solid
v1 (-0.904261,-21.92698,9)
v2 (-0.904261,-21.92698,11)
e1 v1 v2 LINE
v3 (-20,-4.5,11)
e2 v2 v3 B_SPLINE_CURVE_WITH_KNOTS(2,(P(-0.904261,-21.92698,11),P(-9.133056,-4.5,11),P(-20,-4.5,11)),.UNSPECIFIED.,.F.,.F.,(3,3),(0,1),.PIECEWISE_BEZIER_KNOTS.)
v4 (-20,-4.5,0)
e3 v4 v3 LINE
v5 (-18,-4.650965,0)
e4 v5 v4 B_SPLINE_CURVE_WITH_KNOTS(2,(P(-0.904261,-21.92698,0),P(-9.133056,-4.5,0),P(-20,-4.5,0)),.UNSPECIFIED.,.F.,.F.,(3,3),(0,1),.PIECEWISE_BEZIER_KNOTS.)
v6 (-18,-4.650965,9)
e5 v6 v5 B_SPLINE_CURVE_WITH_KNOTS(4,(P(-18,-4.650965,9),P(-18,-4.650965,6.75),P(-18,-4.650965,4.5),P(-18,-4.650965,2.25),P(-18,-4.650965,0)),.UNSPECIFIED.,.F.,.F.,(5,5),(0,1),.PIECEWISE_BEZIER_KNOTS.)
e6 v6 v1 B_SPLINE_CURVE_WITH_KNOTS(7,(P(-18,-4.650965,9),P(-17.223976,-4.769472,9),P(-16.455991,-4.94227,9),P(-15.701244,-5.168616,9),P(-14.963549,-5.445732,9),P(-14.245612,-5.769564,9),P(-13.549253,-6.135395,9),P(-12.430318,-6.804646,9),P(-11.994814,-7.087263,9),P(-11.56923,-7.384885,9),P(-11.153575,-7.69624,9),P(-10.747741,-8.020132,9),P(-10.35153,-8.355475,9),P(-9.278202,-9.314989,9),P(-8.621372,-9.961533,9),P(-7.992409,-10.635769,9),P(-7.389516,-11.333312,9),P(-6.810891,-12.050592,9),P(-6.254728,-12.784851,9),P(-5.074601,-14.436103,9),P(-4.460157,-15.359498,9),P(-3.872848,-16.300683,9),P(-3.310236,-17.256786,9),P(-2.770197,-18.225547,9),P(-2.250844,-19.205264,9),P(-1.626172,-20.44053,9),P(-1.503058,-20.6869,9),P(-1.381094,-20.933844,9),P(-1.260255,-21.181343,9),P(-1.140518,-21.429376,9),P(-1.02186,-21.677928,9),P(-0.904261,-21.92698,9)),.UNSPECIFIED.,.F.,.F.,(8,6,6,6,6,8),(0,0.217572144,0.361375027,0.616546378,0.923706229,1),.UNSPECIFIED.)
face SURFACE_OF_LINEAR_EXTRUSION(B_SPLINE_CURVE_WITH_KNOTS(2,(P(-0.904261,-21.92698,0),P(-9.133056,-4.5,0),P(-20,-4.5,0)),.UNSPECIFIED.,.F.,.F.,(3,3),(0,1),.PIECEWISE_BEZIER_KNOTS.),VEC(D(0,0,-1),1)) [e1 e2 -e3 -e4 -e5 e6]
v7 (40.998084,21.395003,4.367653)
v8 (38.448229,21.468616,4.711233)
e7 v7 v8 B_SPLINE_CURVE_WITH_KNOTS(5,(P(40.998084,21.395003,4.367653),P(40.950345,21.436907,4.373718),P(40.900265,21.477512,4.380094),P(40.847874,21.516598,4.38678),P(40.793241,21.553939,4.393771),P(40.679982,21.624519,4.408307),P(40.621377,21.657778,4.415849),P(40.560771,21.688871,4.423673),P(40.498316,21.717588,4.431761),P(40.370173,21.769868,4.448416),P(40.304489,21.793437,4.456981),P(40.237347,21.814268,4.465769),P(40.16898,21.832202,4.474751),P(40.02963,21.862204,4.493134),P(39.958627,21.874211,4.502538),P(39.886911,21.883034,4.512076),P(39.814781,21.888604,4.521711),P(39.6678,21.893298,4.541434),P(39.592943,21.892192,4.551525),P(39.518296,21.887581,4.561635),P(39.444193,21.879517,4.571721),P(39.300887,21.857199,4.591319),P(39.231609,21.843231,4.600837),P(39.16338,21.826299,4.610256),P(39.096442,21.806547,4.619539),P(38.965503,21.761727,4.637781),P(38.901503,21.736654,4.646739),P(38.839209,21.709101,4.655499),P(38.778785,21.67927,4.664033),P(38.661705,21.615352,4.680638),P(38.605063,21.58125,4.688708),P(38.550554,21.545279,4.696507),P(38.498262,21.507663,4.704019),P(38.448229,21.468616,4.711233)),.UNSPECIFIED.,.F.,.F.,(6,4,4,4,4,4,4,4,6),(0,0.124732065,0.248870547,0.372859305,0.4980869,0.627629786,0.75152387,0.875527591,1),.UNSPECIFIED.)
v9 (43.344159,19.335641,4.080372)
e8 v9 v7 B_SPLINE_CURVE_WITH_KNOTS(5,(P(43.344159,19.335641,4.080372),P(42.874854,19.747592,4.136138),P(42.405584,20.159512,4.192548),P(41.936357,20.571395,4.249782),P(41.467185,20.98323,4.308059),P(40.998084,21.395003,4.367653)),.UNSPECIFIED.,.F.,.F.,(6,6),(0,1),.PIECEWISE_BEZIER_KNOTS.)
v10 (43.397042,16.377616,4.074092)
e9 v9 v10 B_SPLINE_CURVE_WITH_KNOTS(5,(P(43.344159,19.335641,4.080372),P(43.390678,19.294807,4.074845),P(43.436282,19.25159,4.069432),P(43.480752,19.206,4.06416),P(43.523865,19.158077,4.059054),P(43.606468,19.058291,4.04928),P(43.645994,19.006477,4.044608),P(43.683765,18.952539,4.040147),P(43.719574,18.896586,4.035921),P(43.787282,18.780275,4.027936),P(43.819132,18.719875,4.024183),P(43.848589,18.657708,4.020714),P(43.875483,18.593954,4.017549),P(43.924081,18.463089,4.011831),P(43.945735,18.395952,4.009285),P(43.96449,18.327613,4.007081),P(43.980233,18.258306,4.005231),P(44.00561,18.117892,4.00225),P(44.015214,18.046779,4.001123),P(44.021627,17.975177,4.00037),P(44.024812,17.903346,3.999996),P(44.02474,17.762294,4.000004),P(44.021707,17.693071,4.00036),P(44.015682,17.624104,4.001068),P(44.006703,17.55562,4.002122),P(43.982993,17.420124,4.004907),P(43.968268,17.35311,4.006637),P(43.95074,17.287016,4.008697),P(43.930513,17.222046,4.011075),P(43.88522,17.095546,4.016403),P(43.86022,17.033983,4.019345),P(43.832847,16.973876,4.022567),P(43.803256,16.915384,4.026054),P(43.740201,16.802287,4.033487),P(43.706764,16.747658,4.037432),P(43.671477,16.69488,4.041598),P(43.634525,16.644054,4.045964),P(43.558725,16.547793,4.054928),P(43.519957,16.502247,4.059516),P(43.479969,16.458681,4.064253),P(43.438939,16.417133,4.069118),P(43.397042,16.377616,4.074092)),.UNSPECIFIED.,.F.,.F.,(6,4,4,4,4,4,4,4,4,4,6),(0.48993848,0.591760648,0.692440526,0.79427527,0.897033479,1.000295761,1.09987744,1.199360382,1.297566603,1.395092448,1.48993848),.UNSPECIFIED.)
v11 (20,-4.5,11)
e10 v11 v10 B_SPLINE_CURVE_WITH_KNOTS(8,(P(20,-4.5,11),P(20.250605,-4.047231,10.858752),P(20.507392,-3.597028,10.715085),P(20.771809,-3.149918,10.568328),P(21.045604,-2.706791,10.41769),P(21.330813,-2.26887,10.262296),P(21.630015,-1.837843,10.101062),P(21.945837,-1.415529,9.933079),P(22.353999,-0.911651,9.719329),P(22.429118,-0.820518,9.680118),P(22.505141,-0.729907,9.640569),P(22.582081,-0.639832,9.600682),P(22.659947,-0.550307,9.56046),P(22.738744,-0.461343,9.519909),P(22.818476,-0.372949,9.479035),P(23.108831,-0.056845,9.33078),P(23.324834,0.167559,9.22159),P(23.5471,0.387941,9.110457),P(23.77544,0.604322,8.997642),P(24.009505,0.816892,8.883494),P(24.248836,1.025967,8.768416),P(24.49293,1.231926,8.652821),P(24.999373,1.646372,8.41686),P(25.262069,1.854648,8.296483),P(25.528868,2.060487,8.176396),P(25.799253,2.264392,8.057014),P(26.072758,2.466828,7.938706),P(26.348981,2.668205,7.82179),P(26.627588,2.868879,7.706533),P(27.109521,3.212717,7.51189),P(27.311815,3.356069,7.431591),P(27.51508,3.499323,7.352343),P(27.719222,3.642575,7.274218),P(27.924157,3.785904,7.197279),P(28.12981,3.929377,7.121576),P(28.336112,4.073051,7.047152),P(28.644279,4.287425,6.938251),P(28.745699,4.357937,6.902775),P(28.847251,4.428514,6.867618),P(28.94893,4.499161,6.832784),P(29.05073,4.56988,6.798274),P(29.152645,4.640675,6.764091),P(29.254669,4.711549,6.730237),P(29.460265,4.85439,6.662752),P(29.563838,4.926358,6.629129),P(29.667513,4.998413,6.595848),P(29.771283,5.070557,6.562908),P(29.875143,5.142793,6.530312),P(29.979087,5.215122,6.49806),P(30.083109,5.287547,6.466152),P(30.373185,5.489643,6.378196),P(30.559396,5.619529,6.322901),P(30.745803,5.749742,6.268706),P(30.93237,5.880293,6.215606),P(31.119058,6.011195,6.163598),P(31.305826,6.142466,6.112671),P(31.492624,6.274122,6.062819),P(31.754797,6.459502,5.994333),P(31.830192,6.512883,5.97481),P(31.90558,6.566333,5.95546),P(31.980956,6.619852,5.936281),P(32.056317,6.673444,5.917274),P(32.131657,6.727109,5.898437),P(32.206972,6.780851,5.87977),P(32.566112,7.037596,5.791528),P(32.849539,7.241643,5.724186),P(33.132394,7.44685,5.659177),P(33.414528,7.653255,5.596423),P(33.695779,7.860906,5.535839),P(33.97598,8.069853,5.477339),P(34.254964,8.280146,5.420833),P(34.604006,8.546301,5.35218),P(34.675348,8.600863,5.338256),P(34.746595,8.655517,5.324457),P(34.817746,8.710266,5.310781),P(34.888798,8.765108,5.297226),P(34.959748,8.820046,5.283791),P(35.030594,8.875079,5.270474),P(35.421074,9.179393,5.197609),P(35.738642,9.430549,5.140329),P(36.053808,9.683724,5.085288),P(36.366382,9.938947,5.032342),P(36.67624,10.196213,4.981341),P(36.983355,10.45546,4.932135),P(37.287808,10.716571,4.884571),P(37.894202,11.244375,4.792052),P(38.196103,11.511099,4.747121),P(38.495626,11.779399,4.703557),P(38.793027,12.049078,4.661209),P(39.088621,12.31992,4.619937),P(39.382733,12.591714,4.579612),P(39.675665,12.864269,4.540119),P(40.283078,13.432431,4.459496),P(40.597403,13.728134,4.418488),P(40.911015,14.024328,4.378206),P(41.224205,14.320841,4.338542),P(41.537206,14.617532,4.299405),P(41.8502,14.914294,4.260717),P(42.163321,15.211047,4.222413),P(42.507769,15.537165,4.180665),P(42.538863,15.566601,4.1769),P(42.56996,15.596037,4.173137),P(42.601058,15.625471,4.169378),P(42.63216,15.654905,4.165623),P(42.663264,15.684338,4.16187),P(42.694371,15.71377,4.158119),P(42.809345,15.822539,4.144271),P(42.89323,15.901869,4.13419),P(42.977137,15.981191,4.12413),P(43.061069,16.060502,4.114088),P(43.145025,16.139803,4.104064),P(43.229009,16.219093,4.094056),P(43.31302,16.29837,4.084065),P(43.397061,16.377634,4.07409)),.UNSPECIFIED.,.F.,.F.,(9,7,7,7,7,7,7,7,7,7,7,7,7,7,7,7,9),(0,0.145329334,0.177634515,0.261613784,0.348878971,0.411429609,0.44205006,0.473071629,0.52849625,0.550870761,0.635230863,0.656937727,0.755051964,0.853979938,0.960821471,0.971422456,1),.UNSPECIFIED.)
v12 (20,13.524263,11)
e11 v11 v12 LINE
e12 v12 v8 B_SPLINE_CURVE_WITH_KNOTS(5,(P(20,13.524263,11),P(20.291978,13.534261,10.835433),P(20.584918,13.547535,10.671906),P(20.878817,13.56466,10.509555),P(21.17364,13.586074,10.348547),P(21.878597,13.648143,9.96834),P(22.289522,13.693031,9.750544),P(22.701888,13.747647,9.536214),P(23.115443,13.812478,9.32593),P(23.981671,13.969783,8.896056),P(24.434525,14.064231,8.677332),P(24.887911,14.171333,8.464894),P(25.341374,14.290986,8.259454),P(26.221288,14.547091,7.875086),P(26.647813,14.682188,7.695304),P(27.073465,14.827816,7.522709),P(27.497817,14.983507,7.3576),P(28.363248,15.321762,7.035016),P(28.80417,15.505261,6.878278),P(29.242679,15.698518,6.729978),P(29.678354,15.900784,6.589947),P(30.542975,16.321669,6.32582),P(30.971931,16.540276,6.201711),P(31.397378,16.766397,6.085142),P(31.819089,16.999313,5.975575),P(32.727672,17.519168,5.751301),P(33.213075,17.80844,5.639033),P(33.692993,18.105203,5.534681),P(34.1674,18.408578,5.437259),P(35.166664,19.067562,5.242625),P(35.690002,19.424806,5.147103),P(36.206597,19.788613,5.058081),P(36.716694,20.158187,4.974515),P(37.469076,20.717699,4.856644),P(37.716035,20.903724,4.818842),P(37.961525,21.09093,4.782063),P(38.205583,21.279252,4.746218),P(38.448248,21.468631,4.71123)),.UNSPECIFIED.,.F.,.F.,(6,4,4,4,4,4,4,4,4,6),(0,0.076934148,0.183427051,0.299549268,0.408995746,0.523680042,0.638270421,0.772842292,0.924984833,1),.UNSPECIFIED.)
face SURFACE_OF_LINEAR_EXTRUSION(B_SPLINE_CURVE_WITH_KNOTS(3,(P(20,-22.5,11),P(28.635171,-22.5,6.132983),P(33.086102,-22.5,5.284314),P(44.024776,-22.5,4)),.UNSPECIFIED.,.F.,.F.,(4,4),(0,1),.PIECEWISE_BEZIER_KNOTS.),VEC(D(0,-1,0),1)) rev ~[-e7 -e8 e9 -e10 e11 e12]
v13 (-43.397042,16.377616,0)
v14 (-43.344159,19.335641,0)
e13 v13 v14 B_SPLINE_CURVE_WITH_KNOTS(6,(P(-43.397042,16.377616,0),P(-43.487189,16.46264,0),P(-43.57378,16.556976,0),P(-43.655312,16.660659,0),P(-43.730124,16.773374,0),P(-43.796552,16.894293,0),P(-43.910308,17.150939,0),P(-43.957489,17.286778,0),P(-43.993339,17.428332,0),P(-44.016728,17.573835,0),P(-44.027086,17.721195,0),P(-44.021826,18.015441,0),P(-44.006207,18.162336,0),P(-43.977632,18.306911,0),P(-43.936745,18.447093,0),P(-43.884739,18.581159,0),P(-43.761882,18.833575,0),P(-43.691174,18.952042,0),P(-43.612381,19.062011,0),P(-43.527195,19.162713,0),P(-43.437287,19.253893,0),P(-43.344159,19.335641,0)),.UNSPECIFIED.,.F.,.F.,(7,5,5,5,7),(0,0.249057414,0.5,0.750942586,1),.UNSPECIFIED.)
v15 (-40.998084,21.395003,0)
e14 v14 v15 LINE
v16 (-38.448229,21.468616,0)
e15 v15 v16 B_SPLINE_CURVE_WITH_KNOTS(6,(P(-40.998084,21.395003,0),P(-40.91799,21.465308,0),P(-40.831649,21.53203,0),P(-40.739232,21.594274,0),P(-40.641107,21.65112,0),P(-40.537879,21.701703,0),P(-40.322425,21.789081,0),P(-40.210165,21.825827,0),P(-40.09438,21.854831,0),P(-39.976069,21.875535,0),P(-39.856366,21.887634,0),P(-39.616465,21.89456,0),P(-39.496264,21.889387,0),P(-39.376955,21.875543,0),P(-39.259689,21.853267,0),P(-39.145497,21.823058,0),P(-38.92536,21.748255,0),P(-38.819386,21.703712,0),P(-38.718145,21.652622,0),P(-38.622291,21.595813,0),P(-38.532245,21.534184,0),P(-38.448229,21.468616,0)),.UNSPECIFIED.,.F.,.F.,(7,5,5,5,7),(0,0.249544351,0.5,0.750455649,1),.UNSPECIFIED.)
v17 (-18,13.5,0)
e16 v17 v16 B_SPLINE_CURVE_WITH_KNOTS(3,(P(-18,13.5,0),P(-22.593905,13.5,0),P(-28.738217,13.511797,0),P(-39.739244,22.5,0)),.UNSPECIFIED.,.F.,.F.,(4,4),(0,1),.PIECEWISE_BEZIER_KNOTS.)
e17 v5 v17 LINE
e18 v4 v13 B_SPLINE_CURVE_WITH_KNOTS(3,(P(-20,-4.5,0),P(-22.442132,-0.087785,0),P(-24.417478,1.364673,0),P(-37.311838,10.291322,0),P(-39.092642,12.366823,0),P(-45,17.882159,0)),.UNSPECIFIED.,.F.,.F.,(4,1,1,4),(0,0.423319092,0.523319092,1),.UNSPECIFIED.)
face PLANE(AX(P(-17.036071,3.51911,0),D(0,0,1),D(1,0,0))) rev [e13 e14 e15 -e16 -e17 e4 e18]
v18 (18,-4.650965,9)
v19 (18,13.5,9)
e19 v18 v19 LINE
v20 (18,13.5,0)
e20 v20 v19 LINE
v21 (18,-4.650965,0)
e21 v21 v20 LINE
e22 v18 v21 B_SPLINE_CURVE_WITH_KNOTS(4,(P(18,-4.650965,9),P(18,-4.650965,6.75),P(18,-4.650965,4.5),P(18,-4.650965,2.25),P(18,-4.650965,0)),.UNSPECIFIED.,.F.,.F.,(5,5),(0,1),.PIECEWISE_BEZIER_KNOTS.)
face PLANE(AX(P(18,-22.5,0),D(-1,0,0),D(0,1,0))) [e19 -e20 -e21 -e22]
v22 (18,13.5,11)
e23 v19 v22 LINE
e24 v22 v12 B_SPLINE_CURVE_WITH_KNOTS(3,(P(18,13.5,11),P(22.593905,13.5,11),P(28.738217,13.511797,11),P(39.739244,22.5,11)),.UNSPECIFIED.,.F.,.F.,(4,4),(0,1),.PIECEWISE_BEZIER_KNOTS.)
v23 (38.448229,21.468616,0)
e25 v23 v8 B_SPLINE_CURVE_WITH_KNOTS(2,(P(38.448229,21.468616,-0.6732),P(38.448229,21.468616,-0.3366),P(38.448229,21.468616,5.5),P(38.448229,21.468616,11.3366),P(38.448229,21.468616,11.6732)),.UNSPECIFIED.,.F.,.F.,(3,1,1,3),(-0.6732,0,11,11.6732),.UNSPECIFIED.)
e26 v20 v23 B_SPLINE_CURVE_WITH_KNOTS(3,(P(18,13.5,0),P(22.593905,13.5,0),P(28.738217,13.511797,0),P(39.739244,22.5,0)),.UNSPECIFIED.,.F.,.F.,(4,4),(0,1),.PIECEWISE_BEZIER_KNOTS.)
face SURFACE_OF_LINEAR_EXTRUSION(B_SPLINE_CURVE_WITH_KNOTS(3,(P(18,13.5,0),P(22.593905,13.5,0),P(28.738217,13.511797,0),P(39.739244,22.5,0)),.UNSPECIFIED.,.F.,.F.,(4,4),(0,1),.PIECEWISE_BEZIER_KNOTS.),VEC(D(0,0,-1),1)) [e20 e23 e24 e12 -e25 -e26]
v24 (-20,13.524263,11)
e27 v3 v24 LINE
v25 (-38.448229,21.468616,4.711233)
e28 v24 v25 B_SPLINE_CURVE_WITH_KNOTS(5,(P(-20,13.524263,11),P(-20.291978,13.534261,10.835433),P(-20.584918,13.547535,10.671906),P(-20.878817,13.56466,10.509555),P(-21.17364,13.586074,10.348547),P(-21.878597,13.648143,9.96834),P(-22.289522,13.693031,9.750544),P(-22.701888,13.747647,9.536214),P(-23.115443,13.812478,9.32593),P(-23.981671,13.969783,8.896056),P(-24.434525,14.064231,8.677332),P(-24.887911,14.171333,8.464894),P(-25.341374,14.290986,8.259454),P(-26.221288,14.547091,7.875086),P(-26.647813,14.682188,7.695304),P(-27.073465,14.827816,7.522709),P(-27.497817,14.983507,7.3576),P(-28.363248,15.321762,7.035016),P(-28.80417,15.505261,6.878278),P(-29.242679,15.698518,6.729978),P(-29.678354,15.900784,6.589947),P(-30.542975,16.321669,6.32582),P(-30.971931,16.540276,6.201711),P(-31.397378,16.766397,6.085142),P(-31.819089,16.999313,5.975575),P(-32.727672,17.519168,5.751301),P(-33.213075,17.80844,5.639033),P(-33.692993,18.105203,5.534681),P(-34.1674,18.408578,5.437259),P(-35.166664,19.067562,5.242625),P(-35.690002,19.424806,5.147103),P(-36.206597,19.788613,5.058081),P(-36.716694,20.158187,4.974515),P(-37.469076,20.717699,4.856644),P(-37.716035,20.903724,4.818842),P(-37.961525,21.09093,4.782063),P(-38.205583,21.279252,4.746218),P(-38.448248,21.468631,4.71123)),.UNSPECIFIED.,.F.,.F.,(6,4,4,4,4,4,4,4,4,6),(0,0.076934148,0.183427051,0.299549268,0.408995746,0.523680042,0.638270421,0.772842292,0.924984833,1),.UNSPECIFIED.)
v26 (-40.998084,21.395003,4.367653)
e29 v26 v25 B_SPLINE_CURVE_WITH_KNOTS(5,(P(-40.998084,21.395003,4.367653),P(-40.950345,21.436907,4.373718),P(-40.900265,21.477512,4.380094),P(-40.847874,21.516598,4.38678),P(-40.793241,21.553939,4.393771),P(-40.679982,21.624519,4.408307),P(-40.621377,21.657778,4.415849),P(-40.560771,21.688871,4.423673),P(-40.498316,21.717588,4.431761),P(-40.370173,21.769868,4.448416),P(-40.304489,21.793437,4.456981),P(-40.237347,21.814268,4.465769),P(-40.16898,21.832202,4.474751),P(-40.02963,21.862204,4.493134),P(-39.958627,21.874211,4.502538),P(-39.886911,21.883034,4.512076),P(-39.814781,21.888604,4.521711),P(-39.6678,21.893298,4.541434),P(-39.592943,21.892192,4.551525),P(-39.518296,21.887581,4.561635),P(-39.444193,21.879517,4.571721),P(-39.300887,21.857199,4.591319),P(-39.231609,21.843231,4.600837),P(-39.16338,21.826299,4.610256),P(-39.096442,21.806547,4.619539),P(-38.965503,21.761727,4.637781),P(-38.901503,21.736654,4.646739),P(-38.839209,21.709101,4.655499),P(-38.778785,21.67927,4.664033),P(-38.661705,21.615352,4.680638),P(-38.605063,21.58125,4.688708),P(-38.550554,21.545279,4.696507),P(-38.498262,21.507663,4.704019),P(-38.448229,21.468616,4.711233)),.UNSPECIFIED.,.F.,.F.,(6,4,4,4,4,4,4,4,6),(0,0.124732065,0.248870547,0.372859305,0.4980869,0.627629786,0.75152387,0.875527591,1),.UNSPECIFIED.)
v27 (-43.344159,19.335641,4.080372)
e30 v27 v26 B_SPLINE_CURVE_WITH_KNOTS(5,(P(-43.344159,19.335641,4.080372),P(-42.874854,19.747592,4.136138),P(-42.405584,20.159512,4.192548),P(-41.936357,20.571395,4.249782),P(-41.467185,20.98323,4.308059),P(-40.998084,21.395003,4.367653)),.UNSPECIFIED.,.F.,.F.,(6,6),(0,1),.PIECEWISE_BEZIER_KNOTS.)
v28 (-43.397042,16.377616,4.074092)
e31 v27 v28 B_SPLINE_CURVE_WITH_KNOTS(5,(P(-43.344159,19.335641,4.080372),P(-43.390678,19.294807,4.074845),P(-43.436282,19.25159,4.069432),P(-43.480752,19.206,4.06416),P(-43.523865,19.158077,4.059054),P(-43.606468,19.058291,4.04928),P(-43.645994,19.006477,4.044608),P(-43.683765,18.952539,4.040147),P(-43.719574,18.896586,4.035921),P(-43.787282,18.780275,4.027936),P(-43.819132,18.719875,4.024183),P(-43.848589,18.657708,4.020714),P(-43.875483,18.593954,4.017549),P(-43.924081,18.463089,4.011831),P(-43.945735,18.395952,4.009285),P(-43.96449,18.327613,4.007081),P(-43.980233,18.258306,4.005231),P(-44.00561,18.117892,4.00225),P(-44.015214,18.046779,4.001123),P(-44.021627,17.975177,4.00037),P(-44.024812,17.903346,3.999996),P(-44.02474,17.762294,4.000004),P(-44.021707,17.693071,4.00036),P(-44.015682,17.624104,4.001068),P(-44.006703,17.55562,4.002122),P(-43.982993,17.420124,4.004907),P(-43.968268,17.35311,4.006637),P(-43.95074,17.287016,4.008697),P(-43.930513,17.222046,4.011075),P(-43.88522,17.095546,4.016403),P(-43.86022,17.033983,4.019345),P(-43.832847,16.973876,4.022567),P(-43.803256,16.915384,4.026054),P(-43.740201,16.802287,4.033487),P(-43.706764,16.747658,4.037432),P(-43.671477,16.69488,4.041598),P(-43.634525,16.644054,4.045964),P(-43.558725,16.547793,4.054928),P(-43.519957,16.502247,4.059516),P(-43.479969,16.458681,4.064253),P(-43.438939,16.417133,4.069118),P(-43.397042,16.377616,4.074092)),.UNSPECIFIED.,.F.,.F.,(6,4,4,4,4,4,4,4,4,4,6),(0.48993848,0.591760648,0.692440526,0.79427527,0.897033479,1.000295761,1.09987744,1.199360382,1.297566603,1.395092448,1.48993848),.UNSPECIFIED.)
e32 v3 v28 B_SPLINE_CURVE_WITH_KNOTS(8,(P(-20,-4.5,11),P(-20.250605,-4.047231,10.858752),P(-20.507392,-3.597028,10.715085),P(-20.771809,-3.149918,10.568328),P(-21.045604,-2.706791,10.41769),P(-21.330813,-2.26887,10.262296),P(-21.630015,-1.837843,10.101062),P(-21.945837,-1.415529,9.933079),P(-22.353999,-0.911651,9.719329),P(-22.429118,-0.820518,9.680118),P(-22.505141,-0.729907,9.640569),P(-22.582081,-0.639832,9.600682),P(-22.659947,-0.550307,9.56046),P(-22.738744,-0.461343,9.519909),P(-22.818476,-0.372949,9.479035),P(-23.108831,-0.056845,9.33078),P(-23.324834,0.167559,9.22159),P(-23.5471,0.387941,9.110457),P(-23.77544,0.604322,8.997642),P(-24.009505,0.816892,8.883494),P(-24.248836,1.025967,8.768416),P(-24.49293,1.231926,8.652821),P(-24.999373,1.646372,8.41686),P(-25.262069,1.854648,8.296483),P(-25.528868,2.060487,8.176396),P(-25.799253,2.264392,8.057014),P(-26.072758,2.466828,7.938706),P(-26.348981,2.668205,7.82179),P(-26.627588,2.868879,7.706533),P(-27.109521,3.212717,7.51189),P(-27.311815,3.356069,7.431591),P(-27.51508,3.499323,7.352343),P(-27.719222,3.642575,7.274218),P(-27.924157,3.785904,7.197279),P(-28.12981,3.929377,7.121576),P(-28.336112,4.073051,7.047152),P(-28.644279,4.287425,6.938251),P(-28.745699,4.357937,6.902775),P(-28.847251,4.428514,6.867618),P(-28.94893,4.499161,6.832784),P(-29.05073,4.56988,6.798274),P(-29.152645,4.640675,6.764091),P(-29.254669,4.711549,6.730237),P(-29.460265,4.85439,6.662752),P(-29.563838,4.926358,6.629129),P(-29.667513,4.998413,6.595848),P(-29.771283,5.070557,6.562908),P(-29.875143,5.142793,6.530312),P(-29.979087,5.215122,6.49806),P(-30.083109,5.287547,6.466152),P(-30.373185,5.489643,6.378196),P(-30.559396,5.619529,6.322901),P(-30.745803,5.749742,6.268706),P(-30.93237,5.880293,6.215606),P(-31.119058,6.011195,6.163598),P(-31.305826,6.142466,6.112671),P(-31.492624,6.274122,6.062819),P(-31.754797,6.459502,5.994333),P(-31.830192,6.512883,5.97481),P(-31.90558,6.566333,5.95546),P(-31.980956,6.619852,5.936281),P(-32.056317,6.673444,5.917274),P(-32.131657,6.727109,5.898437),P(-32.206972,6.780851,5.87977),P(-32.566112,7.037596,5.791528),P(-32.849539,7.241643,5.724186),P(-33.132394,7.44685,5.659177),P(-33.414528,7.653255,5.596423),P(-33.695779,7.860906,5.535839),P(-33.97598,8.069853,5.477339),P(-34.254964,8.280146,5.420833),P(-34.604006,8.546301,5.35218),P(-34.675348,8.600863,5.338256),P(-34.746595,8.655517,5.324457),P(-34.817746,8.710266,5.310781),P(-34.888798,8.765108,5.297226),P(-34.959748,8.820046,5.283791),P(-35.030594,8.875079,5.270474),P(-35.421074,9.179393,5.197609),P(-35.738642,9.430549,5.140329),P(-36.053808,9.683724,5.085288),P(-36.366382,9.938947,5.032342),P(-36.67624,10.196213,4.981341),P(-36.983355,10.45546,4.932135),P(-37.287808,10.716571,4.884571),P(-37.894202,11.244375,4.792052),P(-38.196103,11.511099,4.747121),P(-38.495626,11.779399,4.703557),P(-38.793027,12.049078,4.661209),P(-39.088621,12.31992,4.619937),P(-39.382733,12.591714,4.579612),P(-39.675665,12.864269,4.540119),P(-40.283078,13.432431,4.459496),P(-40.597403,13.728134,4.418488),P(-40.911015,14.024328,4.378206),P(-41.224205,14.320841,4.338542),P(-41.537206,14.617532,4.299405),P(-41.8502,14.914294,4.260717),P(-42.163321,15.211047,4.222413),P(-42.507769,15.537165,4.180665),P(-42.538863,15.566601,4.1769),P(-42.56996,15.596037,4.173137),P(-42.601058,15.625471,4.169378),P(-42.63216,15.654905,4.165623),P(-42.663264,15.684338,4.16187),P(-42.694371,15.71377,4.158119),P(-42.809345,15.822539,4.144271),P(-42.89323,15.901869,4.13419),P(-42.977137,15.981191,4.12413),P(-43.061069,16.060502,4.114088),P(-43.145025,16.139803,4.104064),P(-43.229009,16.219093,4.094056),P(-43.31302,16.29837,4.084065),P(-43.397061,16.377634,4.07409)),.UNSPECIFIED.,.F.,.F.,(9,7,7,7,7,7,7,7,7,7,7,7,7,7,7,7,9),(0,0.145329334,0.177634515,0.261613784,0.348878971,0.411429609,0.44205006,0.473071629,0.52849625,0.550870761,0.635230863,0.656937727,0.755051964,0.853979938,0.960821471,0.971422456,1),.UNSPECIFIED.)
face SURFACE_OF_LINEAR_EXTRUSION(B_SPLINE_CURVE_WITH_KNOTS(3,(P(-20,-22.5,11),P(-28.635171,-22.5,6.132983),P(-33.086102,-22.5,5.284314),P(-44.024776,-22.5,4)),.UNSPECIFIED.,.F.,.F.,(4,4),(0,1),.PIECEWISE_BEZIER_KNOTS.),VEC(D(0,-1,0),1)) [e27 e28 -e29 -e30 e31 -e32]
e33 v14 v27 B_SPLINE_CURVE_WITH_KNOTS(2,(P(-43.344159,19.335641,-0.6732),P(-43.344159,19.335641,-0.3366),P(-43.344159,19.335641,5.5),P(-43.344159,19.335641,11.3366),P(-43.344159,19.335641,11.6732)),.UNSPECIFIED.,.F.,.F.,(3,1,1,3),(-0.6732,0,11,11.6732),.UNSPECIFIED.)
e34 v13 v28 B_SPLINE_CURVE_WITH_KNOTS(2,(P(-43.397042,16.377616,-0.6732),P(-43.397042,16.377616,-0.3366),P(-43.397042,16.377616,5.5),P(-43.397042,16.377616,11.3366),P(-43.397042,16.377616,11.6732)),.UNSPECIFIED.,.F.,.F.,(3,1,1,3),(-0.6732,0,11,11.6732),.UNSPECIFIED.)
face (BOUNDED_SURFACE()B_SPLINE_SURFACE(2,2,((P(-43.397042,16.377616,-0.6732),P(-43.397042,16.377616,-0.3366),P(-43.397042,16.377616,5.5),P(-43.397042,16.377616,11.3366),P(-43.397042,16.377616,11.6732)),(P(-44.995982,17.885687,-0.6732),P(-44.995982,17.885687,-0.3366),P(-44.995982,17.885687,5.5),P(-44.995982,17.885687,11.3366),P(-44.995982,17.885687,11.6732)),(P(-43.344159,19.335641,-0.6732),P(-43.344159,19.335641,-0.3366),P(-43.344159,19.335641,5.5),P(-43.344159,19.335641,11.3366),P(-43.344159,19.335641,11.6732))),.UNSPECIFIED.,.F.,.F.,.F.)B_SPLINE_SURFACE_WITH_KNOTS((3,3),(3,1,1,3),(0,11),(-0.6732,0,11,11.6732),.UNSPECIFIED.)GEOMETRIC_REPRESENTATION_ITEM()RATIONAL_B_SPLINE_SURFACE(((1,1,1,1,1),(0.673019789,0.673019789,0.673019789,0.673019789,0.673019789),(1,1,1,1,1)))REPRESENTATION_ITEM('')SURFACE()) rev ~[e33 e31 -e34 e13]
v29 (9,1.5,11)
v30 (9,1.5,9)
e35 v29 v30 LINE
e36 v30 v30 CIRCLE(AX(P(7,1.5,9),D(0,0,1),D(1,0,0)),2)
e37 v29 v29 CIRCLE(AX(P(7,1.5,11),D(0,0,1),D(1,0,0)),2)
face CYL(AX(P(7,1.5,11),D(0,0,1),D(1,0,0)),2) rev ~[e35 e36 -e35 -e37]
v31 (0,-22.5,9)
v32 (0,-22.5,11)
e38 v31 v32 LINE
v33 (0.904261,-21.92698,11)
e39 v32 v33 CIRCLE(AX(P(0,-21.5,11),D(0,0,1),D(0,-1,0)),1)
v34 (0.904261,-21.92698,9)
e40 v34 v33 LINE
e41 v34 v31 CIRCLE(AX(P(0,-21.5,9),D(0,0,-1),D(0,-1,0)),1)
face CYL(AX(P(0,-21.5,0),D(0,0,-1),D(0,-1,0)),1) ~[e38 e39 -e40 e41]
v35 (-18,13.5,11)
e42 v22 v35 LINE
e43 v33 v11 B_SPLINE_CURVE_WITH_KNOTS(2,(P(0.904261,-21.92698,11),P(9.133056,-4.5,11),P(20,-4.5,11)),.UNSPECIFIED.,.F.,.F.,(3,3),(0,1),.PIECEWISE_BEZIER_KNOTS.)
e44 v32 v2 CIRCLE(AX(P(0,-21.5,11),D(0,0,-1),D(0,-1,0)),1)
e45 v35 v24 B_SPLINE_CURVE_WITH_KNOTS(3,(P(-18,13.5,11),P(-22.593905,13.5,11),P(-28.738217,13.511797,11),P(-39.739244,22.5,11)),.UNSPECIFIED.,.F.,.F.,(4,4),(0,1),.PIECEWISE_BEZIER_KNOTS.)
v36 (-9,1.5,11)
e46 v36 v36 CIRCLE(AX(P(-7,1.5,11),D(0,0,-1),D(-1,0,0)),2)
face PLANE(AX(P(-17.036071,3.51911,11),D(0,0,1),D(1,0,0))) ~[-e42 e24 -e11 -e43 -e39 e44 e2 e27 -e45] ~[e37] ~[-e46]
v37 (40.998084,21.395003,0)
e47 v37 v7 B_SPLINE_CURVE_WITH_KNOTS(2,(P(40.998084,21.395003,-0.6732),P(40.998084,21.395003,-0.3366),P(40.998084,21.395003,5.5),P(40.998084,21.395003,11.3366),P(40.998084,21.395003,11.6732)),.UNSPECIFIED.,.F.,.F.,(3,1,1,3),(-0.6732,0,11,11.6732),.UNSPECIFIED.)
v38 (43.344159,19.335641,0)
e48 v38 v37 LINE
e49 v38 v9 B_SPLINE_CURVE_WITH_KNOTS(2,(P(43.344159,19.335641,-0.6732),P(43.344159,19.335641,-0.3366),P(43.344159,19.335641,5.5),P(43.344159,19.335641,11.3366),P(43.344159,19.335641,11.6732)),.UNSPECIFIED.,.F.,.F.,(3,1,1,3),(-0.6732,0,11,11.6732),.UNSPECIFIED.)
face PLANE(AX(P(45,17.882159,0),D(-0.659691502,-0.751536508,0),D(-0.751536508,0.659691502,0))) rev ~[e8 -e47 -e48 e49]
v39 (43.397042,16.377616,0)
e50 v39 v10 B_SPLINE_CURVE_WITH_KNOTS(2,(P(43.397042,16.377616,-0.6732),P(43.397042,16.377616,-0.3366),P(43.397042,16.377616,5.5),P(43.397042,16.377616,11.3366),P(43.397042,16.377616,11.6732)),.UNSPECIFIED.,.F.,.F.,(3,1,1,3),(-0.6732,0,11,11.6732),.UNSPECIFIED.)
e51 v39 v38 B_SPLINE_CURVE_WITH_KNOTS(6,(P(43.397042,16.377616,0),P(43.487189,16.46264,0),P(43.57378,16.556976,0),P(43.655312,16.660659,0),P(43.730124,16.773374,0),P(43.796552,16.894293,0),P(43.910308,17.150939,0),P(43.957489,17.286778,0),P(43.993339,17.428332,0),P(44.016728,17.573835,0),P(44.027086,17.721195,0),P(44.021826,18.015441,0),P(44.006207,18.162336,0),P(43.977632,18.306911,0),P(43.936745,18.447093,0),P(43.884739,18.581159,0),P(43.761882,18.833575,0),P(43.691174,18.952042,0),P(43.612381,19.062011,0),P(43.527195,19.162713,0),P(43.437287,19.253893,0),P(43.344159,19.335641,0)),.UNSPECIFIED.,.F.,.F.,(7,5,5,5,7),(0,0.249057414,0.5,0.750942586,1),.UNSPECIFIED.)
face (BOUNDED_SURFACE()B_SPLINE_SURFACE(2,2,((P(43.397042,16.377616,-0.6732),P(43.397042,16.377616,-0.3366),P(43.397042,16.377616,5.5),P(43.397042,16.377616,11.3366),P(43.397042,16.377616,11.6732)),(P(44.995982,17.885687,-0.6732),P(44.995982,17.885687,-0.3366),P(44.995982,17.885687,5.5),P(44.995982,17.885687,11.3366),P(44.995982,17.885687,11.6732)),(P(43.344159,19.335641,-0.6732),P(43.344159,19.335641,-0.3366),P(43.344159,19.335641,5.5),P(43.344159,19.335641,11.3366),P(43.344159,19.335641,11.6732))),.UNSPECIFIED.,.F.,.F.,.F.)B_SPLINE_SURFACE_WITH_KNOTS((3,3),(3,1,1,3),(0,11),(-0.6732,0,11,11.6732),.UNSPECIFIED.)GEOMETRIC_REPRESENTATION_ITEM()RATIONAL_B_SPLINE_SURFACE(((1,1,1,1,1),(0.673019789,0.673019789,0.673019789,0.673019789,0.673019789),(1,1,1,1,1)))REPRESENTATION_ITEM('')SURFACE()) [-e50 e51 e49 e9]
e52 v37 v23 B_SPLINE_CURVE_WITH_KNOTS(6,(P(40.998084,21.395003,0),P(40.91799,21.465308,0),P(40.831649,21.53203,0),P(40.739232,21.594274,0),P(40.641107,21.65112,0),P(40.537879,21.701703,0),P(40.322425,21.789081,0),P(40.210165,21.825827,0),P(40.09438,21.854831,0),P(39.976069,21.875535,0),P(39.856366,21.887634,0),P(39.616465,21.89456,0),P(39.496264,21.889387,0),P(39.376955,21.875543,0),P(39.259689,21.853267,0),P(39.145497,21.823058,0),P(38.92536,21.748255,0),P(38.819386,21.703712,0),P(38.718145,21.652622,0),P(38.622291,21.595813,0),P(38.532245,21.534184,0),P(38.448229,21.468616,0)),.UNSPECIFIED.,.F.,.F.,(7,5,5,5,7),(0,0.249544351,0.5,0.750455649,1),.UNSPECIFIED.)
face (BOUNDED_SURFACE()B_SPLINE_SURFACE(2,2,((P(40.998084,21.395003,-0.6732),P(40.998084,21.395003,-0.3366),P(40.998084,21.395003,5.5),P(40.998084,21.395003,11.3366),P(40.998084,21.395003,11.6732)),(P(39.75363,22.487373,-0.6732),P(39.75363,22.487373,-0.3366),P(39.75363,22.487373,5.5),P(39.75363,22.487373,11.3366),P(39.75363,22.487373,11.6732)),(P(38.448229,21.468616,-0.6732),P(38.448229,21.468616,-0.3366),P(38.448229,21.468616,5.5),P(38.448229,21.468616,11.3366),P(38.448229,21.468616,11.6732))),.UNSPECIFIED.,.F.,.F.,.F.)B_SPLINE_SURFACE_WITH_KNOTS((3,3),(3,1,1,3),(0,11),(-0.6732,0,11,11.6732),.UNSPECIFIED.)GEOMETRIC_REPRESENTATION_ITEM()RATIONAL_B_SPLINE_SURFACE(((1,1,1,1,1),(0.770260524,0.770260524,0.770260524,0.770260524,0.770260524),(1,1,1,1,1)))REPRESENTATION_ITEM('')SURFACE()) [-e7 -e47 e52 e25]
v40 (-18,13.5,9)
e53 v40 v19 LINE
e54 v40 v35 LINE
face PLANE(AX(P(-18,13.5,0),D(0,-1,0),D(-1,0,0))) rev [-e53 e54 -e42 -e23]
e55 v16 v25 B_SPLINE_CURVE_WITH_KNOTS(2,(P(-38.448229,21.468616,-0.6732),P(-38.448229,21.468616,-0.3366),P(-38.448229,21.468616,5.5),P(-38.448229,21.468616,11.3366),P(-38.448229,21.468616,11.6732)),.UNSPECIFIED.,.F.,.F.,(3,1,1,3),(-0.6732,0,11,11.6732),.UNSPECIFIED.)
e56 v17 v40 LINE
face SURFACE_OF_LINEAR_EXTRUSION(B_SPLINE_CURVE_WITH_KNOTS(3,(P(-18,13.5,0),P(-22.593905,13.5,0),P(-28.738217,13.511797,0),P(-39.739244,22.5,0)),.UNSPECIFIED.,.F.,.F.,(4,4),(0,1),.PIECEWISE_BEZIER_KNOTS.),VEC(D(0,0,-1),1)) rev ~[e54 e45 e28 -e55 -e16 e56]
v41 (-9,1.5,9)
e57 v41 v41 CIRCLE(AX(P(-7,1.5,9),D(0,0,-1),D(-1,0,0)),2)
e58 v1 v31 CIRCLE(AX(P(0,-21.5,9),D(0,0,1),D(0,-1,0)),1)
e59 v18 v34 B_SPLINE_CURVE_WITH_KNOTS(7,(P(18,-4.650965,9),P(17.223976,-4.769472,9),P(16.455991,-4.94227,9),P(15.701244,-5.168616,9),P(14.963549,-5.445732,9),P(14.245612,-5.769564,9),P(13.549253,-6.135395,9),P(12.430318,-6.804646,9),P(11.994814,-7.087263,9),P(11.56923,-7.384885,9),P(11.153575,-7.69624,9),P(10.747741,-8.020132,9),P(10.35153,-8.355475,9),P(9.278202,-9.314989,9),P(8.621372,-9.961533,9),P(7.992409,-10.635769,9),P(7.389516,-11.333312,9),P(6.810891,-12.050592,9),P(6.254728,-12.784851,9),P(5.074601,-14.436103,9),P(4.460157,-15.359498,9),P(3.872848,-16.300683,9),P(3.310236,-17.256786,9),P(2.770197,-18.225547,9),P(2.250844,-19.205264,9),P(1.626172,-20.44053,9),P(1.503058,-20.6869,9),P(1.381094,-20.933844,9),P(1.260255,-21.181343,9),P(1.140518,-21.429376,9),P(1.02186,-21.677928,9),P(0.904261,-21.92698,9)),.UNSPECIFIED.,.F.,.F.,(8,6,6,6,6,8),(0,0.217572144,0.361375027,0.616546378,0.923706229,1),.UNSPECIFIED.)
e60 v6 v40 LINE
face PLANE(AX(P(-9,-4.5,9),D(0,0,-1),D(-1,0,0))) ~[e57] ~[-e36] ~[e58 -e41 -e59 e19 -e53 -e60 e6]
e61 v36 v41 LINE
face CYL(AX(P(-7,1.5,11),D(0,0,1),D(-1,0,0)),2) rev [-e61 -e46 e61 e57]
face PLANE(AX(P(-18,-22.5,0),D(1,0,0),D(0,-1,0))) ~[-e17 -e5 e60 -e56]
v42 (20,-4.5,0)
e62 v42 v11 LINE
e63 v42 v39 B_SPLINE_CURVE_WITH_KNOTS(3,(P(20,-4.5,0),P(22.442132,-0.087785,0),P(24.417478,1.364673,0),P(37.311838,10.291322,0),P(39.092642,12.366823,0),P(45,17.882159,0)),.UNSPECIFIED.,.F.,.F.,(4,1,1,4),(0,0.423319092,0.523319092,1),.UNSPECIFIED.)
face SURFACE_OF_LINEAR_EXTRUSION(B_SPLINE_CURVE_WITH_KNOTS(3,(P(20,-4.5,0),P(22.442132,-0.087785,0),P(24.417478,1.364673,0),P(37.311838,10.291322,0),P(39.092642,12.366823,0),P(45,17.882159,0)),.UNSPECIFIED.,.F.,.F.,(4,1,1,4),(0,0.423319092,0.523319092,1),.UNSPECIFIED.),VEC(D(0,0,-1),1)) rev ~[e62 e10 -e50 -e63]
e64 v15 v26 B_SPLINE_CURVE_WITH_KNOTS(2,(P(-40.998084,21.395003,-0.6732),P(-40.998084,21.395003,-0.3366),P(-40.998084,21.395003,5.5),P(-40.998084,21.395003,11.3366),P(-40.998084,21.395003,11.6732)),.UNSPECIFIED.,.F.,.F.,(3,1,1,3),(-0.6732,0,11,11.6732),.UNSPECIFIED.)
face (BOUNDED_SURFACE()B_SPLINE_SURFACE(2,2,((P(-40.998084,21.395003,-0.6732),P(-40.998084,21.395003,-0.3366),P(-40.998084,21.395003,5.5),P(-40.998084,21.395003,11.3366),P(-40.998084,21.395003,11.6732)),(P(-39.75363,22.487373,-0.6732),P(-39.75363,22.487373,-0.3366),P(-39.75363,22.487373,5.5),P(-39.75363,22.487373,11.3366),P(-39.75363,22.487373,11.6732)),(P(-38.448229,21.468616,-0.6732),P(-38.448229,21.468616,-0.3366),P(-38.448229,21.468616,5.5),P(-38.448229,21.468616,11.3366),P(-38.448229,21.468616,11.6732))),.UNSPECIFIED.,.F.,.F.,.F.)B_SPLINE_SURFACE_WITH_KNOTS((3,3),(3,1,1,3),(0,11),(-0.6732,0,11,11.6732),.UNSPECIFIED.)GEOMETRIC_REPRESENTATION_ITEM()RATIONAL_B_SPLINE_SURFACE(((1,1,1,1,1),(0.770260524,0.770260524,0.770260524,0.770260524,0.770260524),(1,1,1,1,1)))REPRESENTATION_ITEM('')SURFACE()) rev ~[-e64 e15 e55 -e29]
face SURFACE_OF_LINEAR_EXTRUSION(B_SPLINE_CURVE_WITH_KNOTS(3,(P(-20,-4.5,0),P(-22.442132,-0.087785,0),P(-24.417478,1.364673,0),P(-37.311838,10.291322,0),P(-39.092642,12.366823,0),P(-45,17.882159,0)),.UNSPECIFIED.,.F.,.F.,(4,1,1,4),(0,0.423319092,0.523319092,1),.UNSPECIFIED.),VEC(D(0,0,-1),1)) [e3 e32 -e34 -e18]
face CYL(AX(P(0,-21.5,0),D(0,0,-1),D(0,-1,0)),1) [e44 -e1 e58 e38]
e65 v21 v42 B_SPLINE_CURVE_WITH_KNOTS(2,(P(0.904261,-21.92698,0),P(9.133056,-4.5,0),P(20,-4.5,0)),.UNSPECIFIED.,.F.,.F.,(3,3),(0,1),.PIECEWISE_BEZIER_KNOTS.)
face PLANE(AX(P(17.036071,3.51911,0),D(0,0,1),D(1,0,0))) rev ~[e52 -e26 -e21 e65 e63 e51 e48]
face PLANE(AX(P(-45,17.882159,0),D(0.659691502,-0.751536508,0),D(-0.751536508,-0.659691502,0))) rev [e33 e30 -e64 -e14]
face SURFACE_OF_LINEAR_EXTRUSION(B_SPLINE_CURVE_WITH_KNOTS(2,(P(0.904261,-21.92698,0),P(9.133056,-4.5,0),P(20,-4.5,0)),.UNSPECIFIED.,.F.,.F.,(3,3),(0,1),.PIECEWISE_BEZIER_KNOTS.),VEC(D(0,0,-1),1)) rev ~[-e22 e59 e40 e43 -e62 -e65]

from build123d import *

# Parameters (mm, degrees)
MAIN_DEPTH         = 11
FILLET1_R          = 2
SKETCH2_W          = 18
SKETCH2_H          = 36
CUT_EXTRUDE1_DEPTH = 9
CUT_EXTRUDE3_DEPTH = 64.480897399
SKETCH5_R          = 2
CUT_EXTRUDE4_DEPTH = 51.650082667


with BuildPart() as part:
    # Sketch1 → Main (new body)
    with BuildSketch(Plane.XY):
        with BuildLine():
            Line((0, 13.5), (0, -22.5))
            ThreePointArc((0, -22.5), (0.535266132, -22.344683472), (0.904260909, -21.926980336))
            add(Edge.make_bspline(
                [(0.904260909, -21.926980336), (9.133056217, -4.5), (20, -4.5)],
                knots=[0, 0, 0, 1, 1, 1], degree=2))
            add(Edge.make_bspline(
                [(20, -4.5), (22.442131921, -0.087784975), (24.417478165, 1.364672535), (37.311838004, 10.291321925), (39.092642364, 12.366823321), (45, 17.882159487)],
                knots=[0, 0, 0, 0, 0.423319092, 0.523319092, 1, 1, 1, 1], degree=3))
            Line((45, 17.882159487), (39.739244446, 22.5))
            add(Edge.make_bspline(
                [(18, 13.5), (22.59390453, 13.5), (28.738216645, 13.511797359), (39.739244446, 22.5)],
                knots=[0, 0, 0, 0, 1, 1, 1, 1], degree=3))
            Line((18, 13.5), (0, 13.5))
        make_face()
    extrude(amount=MAIN_DEPTH)

    # Fillet1
    fillet1_edges = [part.edges().sort_by_distance(p)[0] for p in [
        (45, 17.882159487, 5.5),
        (39.739244446, 22.5, 5.5),
    ]]
    fillet(fillet1_edges, radius=FILLET1_R)

    # Sketch2 → Cut-Extrude1 (cut)
    with BuildSketch(Plane(origin=(0, 0, 0), x_dir=(-1, 0, 0), z_dir=(0, 0, -1))):
        with Locations((-9, -4.5)):
            Rectangle(SKETCH2_W, SKETCH2_H)
    extrude(amount=-CUT_EXTRUDE1_DEPTH, mode=Mode.SUBTRACT)

    # Sketch4 → Cut-Extrude3 (cut, through all)
    with BuildSketch(Plane(origin=(0, -22.5, 0), x_dir=(1, 0, 0), z_dir=(0, 1, 0))):
        with BuildLine():
            Line((20, -11), (44.024775506, -11))
            Line((44.024775506, -11), (44.024775506, -4))
            add(Edge.make_bspline(
                [(20, -11), (28.635170746, -6.13298307), (33.086101869, -5.284313506), (44.024775506, -4)],
                knots=[0, 0, 0, 0, 1, 1, 1, 1], degree=3))
        make_face()
    extrude(amount=CUT_EXTRUDE3_DEPTH, mode=Mode.SUBTRACT)

    # Sketch5 → Cut-Extrude4 (cut, through all)
    with BuildSketch(Plane.XY.offset(11)):
        with Locations((7, 1.5)):
            Circle(SKETCH5_R)
    extrude(amount=-CUT_EXTRUDE4_DEPTH, mode=Mode.SUBTRACT)

    # Mirror1: part across plane


with BuildPart() as part_1:
    add(part.part)
    add(part.part.mirror(Plane(origin=(0, 13.5, 11), x_dir=(0, 0, 1), z_dir=(1, 0, 0))))


solid = part_1.part
